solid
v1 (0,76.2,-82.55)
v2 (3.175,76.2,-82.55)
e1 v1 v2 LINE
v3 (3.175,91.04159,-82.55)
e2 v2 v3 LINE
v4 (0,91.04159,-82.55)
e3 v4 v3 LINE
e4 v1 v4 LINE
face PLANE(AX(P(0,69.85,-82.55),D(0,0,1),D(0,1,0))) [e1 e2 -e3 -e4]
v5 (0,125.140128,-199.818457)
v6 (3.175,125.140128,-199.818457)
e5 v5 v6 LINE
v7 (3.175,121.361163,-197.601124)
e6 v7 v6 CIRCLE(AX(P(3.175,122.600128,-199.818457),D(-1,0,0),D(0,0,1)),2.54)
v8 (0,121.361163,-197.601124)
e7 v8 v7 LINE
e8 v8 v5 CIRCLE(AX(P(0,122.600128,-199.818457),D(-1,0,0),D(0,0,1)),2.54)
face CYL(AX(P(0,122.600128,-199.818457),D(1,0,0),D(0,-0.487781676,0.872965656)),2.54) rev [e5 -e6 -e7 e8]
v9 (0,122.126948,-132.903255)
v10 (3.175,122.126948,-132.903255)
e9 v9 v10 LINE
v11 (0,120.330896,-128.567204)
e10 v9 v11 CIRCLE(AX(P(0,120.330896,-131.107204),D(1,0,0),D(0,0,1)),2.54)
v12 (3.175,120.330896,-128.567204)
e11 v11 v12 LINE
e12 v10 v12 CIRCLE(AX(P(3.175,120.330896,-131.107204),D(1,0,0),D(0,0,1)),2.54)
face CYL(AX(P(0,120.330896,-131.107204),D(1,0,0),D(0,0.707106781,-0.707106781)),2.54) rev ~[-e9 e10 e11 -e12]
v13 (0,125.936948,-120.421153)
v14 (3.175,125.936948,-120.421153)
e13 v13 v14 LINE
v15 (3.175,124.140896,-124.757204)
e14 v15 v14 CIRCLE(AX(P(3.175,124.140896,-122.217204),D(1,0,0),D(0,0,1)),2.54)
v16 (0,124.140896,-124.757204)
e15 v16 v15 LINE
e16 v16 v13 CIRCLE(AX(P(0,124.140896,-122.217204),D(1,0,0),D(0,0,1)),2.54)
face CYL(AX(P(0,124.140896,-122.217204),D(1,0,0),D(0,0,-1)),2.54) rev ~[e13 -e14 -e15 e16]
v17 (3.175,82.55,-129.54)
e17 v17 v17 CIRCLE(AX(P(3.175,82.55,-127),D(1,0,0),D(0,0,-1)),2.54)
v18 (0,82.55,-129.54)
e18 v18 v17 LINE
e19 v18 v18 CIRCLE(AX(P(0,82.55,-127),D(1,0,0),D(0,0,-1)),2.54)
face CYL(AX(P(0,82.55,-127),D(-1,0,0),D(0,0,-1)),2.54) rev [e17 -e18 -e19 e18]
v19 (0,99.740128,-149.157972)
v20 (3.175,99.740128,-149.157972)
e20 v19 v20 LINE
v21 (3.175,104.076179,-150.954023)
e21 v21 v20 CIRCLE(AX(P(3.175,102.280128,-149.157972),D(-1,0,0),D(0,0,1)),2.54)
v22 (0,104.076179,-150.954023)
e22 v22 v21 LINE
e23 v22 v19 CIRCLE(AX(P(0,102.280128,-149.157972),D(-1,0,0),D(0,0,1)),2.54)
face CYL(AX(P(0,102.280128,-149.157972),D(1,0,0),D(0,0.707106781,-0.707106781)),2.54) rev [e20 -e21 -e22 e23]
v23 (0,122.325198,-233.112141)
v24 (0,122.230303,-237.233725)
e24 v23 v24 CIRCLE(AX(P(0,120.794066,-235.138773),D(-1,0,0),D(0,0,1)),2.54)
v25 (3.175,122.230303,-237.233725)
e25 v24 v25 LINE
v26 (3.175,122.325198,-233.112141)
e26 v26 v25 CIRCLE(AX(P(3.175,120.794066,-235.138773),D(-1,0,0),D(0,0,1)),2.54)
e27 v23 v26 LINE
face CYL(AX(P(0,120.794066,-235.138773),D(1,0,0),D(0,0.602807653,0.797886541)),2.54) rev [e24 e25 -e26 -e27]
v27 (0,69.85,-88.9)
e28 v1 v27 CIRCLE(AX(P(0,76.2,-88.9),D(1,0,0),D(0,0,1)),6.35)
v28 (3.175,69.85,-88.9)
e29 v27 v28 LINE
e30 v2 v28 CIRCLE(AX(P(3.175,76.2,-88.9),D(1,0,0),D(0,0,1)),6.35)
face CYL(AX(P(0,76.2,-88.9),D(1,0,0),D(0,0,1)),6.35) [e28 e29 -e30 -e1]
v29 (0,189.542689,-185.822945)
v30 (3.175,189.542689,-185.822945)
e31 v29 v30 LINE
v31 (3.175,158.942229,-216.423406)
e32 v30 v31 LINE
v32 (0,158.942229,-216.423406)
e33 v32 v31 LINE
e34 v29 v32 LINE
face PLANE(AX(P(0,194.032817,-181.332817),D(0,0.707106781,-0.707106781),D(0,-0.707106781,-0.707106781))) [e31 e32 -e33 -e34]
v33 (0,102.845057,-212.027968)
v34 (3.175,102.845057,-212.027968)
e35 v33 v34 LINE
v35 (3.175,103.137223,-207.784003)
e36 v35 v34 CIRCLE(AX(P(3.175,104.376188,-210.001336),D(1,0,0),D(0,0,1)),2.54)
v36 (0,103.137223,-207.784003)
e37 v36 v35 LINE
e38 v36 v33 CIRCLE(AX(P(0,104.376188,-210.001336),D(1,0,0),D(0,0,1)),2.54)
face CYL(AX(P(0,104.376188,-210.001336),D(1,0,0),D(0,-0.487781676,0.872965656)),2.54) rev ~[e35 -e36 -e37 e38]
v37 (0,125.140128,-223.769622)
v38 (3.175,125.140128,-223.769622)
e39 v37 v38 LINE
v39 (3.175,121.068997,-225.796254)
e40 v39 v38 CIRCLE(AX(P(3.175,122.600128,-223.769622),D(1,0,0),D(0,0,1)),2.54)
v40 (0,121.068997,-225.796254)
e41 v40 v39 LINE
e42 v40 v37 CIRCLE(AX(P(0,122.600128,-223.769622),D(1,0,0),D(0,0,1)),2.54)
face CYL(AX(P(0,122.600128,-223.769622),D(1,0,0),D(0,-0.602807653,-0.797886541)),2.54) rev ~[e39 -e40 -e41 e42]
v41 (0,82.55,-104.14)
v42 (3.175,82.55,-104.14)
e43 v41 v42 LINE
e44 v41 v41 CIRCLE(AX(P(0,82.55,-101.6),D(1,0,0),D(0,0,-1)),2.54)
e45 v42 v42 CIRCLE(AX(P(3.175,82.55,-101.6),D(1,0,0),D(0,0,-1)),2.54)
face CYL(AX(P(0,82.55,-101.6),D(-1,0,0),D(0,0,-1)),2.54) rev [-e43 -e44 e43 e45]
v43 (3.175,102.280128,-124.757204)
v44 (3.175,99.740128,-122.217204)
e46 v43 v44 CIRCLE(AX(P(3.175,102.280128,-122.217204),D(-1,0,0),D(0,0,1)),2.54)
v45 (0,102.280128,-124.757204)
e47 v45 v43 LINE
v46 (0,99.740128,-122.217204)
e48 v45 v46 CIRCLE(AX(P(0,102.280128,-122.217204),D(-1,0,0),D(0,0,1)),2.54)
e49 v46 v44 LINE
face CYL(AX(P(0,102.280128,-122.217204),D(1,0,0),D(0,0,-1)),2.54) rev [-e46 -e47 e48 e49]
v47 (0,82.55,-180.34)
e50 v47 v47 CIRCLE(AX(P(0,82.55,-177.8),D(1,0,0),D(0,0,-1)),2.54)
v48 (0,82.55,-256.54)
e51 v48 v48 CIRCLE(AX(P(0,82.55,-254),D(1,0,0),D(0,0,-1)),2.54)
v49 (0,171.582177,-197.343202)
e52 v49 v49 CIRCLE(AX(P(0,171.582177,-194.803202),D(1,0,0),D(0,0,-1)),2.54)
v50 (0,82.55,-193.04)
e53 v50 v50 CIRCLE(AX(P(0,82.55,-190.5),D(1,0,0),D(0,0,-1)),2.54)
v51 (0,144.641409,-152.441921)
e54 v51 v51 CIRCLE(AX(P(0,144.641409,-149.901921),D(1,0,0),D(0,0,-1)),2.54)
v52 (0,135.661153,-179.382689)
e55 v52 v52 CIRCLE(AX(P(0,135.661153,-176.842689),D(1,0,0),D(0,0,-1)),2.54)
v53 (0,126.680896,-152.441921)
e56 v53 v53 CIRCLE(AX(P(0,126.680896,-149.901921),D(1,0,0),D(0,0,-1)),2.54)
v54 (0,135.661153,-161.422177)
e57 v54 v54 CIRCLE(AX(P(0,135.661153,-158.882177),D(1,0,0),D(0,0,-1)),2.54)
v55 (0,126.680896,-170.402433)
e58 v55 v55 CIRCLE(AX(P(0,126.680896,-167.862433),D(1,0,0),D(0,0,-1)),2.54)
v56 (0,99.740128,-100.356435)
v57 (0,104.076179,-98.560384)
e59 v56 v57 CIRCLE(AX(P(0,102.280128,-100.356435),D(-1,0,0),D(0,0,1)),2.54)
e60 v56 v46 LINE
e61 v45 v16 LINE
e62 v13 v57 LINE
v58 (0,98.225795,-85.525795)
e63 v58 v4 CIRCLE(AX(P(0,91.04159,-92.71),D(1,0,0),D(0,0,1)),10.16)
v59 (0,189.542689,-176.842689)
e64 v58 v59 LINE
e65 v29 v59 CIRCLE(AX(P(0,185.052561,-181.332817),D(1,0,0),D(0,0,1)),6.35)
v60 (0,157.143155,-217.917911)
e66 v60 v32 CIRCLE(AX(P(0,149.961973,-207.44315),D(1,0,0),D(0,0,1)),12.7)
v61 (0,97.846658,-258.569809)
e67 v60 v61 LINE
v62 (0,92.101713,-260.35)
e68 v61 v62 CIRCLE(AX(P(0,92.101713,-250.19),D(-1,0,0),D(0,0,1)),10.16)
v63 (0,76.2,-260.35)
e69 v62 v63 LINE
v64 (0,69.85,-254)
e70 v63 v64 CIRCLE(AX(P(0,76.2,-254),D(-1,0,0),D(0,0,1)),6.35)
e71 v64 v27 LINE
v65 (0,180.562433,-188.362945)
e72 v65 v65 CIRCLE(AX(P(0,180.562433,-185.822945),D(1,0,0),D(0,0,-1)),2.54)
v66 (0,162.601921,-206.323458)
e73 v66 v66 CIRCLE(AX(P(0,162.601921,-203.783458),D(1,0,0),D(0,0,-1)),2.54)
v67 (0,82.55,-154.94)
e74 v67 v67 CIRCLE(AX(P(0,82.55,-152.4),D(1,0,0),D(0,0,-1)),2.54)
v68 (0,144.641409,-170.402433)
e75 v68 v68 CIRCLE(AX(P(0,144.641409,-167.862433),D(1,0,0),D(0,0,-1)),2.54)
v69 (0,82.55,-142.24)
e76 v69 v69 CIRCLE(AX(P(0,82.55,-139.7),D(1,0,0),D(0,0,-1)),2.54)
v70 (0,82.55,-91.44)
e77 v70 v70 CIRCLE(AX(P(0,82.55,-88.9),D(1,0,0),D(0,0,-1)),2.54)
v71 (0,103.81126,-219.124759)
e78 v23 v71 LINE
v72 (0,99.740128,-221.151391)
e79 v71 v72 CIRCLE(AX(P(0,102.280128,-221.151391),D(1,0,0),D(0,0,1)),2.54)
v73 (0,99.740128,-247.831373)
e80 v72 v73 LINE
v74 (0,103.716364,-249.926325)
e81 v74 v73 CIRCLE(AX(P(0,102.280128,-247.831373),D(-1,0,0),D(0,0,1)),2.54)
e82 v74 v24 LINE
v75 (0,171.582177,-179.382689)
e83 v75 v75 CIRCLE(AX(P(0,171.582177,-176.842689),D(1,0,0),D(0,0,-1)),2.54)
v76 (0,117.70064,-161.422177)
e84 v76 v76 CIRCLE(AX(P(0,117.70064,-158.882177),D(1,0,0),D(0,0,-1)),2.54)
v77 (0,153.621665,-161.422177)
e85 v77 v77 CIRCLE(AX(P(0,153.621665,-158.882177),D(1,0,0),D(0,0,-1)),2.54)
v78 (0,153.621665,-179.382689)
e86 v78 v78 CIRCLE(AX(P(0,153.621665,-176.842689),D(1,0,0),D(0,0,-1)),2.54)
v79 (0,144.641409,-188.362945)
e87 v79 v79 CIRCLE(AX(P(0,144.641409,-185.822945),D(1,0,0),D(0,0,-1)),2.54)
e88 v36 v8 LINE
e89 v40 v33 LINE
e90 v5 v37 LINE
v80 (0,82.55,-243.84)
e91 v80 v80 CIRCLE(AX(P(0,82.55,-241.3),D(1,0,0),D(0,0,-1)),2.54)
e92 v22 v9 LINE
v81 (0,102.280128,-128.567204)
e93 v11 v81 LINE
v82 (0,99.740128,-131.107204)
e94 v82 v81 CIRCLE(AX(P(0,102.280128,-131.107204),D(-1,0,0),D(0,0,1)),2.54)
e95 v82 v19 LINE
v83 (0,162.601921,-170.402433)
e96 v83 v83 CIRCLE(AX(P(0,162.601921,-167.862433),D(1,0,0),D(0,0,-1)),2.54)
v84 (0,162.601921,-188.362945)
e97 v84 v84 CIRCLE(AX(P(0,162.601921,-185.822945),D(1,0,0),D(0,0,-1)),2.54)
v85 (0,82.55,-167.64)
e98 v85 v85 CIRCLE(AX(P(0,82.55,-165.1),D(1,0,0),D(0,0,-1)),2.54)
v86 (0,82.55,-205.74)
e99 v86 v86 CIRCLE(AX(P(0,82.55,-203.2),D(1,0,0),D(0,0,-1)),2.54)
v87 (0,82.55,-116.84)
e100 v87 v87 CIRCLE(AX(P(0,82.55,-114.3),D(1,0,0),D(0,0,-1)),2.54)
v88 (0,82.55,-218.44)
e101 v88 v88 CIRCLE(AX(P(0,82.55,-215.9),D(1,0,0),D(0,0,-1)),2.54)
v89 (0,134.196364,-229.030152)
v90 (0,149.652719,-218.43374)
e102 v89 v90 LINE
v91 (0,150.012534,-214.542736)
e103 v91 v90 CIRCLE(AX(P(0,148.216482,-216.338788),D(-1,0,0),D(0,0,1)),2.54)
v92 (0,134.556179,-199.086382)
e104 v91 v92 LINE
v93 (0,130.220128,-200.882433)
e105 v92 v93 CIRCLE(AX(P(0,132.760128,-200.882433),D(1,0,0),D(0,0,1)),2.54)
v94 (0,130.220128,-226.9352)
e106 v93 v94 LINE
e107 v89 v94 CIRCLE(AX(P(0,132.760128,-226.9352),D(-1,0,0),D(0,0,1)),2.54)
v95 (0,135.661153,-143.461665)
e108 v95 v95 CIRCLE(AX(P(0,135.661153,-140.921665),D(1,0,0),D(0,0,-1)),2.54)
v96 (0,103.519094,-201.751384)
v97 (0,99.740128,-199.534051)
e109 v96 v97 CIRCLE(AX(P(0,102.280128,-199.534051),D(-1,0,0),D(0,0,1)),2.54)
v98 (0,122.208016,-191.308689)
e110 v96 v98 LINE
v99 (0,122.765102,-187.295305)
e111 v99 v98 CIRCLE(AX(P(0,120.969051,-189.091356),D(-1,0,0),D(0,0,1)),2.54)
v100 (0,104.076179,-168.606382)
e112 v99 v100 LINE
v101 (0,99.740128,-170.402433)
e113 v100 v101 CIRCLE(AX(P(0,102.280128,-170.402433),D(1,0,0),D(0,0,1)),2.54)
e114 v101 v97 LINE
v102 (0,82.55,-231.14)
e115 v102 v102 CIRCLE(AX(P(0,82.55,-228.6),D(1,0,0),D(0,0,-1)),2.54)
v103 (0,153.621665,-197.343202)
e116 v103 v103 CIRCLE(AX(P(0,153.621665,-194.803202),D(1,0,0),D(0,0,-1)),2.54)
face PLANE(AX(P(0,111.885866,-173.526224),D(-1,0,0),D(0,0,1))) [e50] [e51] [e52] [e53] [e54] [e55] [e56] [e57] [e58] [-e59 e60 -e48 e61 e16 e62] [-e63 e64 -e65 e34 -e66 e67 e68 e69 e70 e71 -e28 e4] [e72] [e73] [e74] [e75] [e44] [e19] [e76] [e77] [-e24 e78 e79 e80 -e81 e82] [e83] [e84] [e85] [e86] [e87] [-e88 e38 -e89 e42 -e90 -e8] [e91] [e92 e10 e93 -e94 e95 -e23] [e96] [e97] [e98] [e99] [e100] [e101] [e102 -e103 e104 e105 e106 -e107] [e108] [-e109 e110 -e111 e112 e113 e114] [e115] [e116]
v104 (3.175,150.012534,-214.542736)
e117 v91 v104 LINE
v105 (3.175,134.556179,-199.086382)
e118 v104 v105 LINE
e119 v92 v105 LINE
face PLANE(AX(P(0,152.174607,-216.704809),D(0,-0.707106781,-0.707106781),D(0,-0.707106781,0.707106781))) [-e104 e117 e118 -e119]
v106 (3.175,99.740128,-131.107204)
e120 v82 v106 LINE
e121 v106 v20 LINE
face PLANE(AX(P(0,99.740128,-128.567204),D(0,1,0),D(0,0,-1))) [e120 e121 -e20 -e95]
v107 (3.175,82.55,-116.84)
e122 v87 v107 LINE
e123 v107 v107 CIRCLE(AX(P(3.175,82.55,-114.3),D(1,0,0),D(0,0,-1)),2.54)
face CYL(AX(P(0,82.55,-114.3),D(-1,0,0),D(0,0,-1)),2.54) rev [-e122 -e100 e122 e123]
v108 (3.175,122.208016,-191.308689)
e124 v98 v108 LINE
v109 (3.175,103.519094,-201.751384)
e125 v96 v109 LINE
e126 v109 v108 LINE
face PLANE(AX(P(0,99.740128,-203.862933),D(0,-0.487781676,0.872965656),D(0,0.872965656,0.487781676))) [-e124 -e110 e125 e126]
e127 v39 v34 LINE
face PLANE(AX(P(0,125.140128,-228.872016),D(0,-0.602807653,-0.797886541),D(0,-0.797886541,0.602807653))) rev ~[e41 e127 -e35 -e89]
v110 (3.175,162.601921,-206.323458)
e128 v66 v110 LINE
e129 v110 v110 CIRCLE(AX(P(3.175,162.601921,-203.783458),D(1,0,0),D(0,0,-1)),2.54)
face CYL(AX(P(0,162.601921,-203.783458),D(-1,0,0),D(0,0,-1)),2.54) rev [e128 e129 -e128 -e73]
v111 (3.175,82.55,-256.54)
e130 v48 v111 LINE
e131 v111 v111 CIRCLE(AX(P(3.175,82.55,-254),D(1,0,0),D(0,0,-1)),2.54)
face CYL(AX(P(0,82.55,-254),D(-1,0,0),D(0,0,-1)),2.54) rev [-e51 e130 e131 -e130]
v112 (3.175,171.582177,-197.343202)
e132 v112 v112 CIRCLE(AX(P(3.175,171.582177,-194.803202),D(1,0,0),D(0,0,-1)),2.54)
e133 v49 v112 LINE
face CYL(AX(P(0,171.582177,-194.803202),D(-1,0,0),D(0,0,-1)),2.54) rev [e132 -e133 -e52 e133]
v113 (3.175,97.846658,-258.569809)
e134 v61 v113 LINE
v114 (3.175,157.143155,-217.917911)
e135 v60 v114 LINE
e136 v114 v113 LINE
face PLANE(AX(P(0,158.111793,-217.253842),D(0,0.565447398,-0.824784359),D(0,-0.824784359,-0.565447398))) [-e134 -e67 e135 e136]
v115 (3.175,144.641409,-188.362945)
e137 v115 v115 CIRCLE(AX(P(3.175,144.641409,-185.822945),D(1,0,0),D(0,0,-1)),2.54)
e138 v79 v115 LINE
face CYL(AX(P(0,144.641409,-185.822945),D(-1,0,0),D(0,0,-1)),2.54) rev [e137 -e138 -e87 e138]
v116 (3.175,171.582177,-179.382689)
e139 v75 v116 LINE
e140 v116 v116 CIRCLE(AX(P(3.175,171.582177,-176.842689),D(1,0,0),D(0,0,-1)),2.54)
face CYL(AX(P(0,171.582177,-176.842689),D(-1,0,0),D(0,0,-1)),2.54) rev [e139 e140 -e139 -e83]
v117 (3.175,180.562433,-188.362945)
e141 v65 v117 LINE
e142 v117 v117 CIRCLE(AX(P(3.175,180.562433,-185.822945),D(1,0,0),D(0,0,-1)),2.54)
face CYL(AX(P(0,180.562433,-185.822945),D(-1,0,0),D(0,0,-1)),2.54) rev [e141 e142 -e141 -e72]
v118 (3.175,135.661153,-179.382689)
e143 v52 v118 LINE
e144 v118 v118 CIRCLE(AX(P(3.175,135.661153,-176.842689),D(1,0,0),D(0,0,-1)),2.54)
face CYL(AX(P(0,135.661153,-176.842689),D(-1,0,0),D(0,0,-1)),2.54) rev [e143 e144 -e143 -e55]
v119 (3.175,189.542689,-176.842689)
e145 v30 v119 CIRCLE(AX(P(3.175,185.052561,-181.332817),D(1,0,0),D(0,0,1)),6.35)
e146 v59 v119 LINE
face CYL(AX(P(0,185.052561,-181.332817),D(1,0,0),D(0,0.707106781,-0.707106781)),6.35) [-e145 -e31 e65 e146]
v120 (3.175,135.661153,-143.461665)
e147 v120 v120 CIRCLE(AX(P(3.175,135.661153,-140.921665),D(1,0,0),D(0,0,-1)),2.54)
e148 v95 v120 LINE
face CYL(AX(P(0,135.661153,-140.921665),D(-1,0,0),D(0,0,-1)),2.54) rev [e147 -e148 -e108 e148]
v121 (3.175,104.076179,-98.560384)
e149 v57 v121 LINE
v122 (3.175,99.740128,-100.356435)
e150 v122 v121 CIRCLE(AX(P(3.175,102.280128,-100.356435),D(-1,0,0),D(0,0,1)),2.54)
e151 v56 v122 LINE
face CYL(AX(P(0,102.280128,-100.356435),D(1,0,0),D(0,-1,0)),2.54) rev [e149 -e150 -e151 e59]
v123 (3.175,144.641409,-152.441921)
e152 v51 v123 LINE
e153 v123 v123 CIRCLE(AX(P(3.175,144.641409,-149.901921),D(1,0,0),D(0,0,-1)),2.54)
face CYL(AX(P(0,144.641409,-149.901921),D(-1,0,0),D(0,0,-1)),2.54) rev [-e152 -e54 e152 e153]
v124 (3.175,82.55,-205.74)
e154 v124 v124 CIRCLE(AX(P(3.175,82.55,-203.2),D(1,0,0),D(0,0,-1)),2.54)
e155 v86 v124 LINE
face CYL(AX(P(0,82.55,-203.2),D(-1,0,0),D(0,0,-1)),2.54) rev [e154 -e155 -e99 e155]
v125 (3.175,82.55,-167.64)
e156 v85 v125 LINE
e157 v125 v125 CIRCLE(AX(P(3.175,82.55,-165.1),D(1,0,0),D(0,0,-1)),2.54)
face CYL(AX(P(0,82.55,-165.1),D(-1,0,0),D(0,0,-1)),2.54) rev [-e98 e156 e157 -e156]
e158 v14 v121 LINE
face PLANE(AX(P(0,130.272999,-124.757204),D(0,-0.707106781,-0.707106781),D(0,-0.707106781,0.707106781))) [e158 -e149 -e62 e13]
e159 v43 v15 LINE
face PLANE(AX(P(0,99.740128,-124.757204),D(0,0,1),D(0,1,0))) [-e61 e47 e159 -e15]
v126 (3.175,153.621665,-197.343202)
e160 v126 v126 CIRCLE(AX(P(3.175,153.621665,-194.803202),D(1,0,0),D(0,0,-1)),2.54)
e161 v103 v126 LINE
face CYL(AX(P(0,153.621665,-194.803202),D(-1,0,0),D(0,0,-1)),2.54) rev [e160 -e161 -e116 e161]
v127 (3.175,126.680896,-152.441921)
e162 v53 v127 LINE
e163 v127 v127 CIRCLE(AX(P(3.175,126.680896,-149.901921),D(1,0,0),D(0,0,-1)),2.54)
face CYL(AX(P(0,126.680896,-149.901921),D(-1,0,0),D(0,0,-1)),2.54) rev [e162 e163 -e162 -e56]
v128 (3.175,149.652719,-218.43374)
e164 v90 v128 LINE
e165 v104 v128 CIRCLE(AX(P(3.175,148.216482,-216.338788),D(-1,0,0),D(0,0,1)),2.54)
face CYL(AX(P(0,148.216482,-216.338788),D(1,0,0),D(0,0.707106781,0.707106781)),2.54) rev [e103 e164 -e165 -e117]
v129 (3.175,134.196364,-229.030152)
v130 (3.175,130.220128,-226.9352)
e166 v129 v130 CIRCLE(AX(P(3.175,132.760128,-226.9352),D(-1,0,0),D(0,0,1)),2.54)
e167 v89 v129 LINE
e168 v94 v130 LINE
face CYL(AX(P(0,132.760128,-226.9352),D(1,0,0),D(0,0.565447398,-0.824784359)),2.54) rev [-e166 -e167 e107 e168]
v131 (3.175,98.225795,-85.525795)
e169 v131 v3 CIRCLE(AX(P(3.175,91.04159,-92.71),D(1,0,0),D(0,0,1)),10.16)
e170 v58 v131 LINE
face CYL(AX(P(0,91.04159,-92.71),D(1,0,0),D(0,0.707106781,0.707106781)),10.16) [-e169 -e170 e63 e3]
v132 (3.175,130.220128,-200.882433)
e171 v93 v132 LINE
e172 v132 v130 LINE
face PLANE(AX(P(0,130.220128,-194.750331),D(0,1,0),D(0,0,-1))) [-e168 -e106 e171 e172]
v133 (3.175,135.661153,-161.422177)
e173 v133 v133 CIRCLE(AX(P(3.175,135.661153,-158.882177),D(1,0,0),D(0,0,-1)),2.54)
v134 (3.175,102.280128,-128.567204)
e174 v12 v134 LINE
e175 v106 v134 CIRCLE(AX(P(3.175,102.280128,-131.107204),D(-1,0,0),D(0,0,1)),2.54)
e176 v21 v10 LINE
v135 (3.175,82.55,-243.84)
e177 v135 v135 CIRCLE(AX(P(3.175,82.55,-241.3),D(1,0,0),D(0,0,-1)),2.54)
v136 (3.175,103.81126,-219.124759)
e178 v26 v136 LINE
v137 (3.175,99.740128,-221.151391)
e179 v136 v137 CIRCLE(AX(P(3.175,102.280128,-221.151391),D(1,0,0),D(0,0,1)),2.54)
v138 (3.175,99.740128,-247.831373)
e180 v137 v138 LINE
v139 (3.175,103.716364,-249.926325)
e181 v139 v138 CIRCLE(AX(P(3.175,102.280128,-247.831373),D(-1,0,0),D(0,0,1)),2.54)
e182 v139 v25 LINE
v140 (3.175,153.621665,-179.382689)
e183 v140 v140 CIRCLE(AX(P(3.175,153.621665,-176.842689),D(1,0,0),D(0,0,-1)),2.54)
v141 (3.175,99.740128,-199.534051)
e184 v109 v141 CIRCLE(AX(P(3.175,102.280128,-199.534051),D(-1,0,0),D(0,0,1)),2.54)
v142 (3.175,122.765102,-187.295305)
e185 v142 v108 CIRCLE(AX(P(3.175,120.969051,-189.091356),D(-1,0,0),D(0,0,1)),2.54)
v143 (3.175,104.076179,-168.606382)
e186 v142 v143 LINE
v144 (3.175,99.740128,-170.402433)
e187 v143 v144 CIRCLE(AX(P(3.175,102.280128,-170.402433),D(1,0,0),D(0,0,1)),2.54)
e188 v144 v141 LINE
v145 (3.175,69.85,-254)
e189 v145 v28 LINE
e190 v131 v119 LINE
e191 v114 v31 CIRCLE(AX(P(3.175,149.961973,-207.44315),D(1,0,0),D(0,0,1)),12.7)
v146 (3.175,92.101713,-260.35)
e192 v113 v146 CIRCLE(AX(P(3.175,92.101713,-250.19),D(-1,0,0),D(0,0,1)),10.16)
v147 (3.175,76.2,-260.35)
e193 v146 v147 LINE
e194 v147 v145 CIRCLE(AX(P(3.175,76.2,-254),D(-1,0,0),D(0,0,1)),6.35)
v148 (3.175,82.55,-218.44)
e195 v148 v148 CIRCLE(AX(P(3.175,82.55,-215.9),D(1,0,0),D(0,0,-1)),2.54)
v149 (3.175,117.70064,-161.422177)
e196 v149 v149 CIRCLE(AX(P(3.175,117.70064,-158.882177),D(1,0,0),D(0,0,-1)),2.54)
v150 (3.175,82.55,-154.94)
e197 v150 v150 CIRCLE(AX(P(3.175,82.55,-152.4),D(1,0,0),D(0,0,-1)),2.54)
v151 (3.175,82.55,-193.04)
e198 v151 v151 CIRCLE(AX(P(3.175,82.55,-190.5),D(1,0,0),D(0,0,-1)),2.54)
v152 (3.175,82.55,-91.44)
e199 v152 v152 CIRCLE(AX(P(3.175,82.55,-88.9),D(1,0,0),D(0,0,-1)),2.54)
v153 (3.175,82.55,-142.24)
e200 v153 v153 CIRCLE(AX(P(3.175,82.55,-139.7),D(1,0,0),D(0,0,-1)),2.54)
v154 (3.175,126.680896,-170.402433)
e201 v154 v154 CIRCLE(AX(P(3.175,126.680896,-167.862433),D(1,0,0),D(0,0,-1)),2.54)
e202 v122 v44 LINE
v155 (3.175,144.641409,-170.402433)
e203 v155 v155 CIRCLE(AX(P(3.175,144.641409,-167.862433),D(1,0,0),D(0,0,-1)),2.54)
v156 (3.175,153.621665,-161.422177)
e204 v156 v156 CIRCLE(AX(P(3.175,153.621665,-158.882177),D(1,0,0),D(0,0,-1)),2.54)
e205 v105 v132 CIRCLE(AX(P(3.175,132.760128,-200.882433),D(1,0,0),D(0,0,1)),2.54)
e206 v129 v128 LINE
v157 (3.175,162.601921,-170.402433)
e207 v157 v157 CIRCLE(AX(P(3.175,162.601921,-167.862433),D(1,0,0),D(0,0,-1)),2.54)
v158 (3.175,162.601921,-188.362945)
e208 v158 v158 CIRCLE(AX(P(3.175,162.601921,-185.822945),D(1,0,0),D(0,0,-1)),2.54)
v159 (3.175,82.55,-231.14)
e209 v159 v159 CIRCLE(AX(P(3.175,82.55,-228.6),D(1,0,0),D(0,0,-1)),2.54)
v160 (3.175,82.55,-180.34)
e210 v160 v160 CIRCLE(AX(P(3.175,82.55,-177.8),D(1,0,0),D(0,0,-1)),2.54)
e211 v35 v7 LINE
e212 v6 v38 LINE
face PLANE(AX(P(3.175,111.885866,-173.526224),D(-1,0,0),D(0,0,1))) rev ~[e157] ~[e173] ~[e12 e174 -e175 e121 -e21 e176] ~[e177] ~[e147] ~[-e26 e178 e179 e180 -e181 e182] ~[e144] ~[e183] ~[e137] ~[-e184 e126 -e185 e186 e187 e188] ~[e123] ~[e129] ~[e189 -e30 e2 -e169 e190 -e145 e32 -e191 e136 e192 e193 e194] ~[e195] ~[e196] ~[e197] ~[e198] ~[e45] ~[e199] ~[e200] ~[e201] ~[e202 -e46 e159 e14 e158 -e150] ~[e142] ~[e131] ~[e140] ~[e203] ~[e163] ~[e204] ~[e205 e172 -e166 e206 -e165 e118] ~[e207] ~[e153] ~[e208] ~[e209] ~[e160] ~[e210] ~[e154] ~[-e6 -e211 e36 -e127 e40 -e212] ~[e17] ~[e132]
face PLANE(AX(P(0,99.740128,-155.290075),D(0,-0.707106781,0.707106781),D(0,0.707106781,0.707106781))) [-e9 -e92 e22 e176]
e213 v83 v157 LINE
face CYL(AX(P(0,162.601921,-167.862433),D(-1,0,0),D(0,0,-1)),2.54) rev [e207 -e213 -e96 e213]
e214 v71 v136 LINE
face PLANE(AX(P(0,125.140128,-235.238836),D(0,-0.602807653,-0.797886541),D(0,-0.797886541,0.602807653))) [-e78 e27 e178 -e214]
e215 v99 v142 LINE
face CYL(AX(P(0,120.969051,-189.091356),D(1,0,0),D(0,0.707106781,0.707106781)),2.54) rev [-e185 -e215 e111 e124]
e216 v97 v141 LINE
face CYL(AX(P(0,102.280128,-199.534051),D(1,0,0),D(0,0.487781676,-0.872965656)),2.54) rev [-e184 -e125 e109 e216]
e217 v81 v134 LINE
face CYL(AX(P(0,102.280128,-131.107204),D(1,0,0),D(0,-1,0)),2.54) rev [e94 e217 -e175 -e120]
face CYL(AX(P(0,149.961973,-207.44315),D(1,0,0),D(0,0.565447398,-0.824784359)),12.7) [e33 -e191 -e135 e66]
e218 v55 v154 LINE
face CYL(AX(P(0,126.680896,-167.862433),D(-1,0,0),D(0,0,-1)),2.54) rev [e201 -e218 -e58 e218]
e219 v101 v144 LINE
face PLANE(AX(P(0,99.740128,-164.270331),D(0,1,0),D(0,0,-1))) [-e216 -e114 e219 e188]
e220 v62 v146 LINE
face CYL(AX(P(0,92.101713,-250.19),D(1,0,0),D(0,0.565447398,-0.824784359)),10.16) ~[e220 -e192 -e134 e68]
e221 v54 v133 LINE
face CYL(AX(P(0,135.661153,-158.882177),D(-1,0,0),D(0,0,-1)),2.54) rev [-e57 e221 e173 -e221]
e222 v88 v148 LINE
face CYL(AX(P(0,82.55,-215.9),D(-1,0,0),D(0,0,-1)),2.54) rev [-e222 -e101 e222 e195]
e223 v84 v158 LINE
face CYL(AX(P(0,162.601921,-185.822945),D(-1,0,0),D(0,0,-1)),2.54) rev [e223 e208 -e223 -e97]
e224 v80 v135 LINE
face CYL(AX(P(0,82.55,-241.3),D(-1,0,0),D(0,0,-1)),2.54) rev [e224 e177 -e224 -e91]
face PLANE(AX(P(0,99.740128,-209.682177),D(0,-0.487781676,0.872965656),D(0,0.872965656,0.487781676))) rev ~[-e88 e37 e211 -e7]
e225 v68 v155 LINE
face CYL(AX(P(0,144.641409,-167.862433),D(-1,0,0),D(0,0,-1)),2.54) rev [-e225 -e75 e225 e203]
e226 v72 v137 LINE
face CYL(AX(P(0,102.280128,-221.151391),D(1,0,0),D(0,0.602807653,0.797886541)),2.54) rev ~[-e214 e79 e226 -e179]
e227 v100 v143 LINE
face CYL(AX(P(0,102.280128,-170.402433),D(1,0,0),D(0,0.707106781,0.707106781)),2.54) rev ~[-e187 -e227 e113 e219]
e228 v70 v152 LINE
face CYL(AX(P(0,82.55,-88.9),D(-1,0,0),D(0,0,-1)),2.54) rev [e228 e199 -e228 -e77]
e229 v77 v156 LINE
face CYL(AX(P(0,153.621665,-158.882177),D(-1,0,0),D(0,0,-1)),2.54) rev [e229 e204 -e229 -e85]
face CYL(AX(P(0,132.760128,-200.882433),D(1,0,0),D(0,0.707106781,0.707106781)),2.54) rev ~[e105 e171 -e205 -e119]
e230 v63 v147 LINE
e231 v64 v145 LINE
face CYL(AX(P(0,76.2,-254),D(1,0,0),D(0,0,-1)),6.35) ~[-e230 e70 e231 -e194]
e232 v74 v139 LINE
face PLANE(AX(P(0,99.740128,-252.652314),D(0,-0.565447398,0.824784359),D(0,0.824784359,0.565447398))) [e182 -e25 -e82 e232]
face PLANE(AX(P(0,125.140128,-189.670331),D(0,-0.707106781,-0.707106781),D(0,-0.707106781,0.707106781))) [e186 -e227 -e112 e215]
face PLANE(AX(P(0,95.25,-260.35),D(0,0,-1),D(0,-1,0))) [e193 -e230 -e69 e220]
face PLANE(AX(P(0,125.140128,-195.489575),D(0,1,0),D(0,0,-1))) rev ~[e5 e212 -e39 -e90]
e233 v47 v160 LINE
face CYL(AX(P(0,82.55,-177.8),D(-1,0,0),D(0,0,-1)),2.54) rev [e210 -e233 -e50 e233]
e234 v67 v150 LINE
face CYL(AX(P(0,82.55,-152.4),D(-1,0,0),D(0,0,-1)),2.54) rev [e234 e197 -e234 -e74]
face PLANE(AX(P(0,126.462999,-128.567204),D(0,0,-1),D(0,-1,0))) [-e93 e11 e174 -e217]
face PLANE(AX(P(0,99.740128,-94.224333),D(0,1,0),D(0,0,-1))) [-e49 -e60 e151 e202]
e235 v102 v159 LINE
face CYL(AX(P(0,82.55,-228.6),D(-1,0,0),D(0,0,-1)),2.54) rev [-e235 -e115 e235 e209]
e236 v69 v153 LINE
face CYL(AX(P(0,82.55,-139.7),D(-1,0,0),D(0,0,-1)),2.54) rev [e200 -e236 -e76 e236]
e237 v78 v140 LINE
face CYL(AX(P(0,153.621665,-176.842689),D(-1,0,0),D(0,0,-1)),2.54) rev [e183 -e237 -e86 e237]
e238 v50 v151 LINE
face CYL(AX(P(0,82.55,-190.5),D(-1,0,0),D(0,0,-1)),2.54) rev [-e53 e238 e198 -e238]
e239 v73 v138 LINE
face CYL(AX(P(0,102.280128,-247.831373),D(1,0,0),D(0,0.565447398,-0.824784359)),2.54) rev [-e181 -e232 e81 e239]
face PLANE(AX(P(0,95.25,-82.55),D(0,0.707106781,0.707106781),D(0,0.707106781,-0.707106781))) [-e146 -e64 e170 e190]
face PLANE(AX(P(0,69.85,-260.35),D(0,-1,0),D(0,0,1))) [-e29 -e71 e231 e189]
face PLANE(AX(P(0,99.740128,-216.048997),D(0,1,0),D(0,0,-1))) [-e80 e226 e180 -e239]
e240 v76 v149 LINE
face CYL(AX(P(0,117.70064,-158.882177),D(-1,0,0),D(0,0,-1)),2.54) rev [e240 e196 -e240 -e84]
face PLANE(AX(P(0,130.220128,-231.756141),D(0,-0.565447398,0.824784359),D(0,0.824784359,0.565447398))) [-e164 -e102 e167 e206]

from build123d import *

# Parameters (mm, degrees)
SKETCH8_R           = 2.54
BOSS_EXTRUDE1_DEPTH = 3.175
FILLET1_R           = 2.54
FILLET2_R           = 6.35
FILLET3_R           = 10.16
FILLET4_R           = 12.7


with BuildPart() as part:
    # Sketch8 → Boss-Extrude1 (new body)
    with BuildSketch(Plane(origin=(0, 0, 0), x_dir=(0, 0, -1), z_dir=(1, 0, 0))):
        Polygon((181.332817332, 194.032817332), (217.253841816, 158.111792847), (260.35, 95.25), (260.35, 69.85), (82.55, 69.85), (82.55, 95.25), align=None)
        with Locations((185.822945392, 144.641408666)):
            Circle(SKETCH8_R, mode=Mode.SUBTRACT)
        with Locations((167.86243315, 162.601920908)):
            Circle(SKETCH8_R, mode=Mode.SUBTRACT)
        with Locations((167.86243315, 144.641408666)):
            Circle(SKETCH8_R, mode=Mode.SUBTRACT)
        with Locations((158.882177029, 135.661152545)):
            Circle(SKETCH8_R, mode=Mode.SUBTRACT)
        with Locations((158.882177029, 153.621664787)):
            Circle(SKETCH8_R, mode=Mode.SUBTRACT)
        with Locations((149.901920908, 144.641408666)):
            Circle(SKETCH8_R, mode=Mode.SUBTRACT)
        with Locations((140.921664787, 135.661152545)):
            Circle(SKETCH8_R, mode=Mode.SUBTRACT)
        with Locations((149.901920908, 126.680896424)):
            Circle(SKETCH8_R, mode=Mode.SUBTRACT)
        with Locations((158.882177029, 117.700640303)):
            Circle(SKETCH8_R, mode=Mode.SUBTRACT)
        with Locations((167.86243315, 126.680896424)):
            Circle(SKETCH8_R, mode=Mode.SUBTRACT)
        with Locations((176.842689271, 135.661152545)):
            Circle(SKETCH8_R, mode=Mode.SUBTRACT)
        with Locations((176.842689271, 153.621664787)):
            Circle(SKETCH8_R, mode=Mode.SUBTRACT)
        with Locations((194.803201513, 153.621664787)):
            Circle(SKETCH8_R, mode=Mode.SUBTRACT)
        with Locations((203.783457634, 162.601920908)):
            Circle(SKETCH8_R, mode=Mode.SUBTRACT)
        with Locations((194.803201513, 171.582177029)):
            Circle(SKETCH8_R, mode=Mode.SUBTRACT)
        with Locations((185.822945392, 180.56243315)):
            Circle(SKETCH8_R, mode=Mode.SUBTRACT)
        with Locations((176.842689271, 171.582177029)):
            Circle(SKETCH8_R, mode=Mode.SUBTRACT)
        with Locations((185.822945392, 162.601920908)):
            Circle(SKETCH8_R, mode=Mode.SUBTRACT)
        with Locations((254, 82.55)):
            Circle(SKETCH8_R, mode=Mode.SUBTRACT)
        with Locations((241.3, 82.55)):
            Circle(SKETCH8_R, mode=Mode.SUBTRACT)
        with Locations((228.6, 82.55)):
            Circle(SKETCH8_R, mode=Mode.SUBTRACT)
        with Locations((215.9, 82.55)):
            Circle(SKETCH8_R, mode=Mode.SUBTRACT)
        with Locations((203.2, 82.55)):
            Circle(SKETCH8_R, mode=Mode.SUBTRACT)
        with Locations((190.5, 82.55)):
            Circle(SKETCH8_R, mode=Mode.SUBTRACT)
        with Locations((177.8, 82.55)):
            Circle(SKETCH8_R, mode=Mode.SUBTRACT)
        with Locations((165.1, 82.55)):
            Circle(SKETCH8_R, mode=Mode.SUBTRACT)
        with Locations((152.4, 82.55)):
            Circle(SKETCH8_R, mode=Mode.SUBTRACT)
        with Locations((139.7, 82.55)):
            Circle(SKETCH8_R, mode=Mode.SUBTRACT)
        with Locations((127, 82.55)):
            Circle(SKETCH8_R, mode=Mode.SUBTRACT)
        with Locations((114.3, 82.55)):
            Circle(SKETCH8_R, mode=Mode.SUBTRACT)
        with Locations((101.6, 82.55)):
            Circle(SKETCH8_R, mode=Mode.SUBTRACT)
        with Locations((88.9, 82.55)):
            Circle(SKETCH8_R, mode=Mode.SUBTRACT)
        Polygon((164.270330702, 99.740128061), (203.862933209, 99.740128061), (189.670330702, 125.140128061), align=None, mode=Mode.SUBTRACT)
        Polygon((209.682177029, 99.740128061), (195.489574522, 125.140128061), (228.872016188, 125.140128061), align=None, mode=Mode.SUBTRACT)
        Polygon((216.048997042, 99.740128061), (252.652313741, 99.740128061), (235.238836201, 125.140128061), align=None, mode=Mode.SUBTRACT)
        Polygon((194.750330702, 130.220128061), (231.756140693, 130.220128061), (216.70480924, 152.174606599), align=None, mode=Mode.SUBTRACT)
        Polygon((124.757203769, 130.272998872), (94.224332957, 99.740128061), (124.757203769, 99.740128061), align=None, mode=Mode.SUBTRACT)
        Polygon((128.567203769, 126.462998872), (128.567203769, 99.740128061), (155.290074581, 99.740128061), align=None, mode=Mode.SUBTRACT)
    extrude(amount=BOSS_EXTRUDE1_DEPTH)

    # Fillet1
    fillet1_edges = [part.edges().sort_by_distance(p)[0] for p in [
        (1.5875, 125.140128061, -195.489574522),
        (1.5875, 99.740128061, -209.682177029),
        (1.5875, 125.140128061, -228.872016188),
        (1.5875, 99.740128061, -164.270330702),
        (1.5875, 99.740128061, -203.862933209),
        (1.5875, 125.140128061, -189.670330702),
        (1.5875, 99.740128061, -216.048997042),
        (1.5875, 99.740128061, -252.652313741),
        (1.5875, 125.140128061, -235.238836201),
        (1.5875, 130.220128061, -194.750330702),
        (1.5875, 130.220128061, -231.756140693),
        (1.5875, 152.174606599, -216.70480924),
        (1.5875, 130.272998872, -124.757203769),
        (1.5875, 99.740128061, -94.224332957),
        (1.5875, 99.740128061, -124.757203769),
        (1.5875, 126.462998872, -128.567203769),
        (1.5875, 99.740128061, -128.567203769),
        (1.5875, 99.740128061, -155.290074581),
    ]]
    fillet(fillet1_edges, radius=FILLET1_R)

    # Fillet2
    fillet2_edges = [part.edges().sort_by_distance(p)[0] for p in [
        (1.5875, 69.85, -260.35),
        (1.5875, 69.85, -82.55),
        (1.5875, 194.032817332, -181.332817332),
    ]]
    fillet(fillet2_edges, radius=FILLET2_R)

    # Fillet3
    fillet3_edges = [part.edges().sort_by_distance(p)[0] for p in [
        (1.5875, 95.25, -82.55),
        (1.5875, 95.25, -260.35),
    ]]
    fillet(fillet3_edges, radius=FILLET3_R)

    # Fillet4
    fillet4_edges = [part.edges().sort_by_distance(p)[0] for p in [
        (1.5875, 158.111792847, -217.253841816),
    ]]
    fillet(fillet4_edges, radius=FILLET4_R)


solid = part.part
